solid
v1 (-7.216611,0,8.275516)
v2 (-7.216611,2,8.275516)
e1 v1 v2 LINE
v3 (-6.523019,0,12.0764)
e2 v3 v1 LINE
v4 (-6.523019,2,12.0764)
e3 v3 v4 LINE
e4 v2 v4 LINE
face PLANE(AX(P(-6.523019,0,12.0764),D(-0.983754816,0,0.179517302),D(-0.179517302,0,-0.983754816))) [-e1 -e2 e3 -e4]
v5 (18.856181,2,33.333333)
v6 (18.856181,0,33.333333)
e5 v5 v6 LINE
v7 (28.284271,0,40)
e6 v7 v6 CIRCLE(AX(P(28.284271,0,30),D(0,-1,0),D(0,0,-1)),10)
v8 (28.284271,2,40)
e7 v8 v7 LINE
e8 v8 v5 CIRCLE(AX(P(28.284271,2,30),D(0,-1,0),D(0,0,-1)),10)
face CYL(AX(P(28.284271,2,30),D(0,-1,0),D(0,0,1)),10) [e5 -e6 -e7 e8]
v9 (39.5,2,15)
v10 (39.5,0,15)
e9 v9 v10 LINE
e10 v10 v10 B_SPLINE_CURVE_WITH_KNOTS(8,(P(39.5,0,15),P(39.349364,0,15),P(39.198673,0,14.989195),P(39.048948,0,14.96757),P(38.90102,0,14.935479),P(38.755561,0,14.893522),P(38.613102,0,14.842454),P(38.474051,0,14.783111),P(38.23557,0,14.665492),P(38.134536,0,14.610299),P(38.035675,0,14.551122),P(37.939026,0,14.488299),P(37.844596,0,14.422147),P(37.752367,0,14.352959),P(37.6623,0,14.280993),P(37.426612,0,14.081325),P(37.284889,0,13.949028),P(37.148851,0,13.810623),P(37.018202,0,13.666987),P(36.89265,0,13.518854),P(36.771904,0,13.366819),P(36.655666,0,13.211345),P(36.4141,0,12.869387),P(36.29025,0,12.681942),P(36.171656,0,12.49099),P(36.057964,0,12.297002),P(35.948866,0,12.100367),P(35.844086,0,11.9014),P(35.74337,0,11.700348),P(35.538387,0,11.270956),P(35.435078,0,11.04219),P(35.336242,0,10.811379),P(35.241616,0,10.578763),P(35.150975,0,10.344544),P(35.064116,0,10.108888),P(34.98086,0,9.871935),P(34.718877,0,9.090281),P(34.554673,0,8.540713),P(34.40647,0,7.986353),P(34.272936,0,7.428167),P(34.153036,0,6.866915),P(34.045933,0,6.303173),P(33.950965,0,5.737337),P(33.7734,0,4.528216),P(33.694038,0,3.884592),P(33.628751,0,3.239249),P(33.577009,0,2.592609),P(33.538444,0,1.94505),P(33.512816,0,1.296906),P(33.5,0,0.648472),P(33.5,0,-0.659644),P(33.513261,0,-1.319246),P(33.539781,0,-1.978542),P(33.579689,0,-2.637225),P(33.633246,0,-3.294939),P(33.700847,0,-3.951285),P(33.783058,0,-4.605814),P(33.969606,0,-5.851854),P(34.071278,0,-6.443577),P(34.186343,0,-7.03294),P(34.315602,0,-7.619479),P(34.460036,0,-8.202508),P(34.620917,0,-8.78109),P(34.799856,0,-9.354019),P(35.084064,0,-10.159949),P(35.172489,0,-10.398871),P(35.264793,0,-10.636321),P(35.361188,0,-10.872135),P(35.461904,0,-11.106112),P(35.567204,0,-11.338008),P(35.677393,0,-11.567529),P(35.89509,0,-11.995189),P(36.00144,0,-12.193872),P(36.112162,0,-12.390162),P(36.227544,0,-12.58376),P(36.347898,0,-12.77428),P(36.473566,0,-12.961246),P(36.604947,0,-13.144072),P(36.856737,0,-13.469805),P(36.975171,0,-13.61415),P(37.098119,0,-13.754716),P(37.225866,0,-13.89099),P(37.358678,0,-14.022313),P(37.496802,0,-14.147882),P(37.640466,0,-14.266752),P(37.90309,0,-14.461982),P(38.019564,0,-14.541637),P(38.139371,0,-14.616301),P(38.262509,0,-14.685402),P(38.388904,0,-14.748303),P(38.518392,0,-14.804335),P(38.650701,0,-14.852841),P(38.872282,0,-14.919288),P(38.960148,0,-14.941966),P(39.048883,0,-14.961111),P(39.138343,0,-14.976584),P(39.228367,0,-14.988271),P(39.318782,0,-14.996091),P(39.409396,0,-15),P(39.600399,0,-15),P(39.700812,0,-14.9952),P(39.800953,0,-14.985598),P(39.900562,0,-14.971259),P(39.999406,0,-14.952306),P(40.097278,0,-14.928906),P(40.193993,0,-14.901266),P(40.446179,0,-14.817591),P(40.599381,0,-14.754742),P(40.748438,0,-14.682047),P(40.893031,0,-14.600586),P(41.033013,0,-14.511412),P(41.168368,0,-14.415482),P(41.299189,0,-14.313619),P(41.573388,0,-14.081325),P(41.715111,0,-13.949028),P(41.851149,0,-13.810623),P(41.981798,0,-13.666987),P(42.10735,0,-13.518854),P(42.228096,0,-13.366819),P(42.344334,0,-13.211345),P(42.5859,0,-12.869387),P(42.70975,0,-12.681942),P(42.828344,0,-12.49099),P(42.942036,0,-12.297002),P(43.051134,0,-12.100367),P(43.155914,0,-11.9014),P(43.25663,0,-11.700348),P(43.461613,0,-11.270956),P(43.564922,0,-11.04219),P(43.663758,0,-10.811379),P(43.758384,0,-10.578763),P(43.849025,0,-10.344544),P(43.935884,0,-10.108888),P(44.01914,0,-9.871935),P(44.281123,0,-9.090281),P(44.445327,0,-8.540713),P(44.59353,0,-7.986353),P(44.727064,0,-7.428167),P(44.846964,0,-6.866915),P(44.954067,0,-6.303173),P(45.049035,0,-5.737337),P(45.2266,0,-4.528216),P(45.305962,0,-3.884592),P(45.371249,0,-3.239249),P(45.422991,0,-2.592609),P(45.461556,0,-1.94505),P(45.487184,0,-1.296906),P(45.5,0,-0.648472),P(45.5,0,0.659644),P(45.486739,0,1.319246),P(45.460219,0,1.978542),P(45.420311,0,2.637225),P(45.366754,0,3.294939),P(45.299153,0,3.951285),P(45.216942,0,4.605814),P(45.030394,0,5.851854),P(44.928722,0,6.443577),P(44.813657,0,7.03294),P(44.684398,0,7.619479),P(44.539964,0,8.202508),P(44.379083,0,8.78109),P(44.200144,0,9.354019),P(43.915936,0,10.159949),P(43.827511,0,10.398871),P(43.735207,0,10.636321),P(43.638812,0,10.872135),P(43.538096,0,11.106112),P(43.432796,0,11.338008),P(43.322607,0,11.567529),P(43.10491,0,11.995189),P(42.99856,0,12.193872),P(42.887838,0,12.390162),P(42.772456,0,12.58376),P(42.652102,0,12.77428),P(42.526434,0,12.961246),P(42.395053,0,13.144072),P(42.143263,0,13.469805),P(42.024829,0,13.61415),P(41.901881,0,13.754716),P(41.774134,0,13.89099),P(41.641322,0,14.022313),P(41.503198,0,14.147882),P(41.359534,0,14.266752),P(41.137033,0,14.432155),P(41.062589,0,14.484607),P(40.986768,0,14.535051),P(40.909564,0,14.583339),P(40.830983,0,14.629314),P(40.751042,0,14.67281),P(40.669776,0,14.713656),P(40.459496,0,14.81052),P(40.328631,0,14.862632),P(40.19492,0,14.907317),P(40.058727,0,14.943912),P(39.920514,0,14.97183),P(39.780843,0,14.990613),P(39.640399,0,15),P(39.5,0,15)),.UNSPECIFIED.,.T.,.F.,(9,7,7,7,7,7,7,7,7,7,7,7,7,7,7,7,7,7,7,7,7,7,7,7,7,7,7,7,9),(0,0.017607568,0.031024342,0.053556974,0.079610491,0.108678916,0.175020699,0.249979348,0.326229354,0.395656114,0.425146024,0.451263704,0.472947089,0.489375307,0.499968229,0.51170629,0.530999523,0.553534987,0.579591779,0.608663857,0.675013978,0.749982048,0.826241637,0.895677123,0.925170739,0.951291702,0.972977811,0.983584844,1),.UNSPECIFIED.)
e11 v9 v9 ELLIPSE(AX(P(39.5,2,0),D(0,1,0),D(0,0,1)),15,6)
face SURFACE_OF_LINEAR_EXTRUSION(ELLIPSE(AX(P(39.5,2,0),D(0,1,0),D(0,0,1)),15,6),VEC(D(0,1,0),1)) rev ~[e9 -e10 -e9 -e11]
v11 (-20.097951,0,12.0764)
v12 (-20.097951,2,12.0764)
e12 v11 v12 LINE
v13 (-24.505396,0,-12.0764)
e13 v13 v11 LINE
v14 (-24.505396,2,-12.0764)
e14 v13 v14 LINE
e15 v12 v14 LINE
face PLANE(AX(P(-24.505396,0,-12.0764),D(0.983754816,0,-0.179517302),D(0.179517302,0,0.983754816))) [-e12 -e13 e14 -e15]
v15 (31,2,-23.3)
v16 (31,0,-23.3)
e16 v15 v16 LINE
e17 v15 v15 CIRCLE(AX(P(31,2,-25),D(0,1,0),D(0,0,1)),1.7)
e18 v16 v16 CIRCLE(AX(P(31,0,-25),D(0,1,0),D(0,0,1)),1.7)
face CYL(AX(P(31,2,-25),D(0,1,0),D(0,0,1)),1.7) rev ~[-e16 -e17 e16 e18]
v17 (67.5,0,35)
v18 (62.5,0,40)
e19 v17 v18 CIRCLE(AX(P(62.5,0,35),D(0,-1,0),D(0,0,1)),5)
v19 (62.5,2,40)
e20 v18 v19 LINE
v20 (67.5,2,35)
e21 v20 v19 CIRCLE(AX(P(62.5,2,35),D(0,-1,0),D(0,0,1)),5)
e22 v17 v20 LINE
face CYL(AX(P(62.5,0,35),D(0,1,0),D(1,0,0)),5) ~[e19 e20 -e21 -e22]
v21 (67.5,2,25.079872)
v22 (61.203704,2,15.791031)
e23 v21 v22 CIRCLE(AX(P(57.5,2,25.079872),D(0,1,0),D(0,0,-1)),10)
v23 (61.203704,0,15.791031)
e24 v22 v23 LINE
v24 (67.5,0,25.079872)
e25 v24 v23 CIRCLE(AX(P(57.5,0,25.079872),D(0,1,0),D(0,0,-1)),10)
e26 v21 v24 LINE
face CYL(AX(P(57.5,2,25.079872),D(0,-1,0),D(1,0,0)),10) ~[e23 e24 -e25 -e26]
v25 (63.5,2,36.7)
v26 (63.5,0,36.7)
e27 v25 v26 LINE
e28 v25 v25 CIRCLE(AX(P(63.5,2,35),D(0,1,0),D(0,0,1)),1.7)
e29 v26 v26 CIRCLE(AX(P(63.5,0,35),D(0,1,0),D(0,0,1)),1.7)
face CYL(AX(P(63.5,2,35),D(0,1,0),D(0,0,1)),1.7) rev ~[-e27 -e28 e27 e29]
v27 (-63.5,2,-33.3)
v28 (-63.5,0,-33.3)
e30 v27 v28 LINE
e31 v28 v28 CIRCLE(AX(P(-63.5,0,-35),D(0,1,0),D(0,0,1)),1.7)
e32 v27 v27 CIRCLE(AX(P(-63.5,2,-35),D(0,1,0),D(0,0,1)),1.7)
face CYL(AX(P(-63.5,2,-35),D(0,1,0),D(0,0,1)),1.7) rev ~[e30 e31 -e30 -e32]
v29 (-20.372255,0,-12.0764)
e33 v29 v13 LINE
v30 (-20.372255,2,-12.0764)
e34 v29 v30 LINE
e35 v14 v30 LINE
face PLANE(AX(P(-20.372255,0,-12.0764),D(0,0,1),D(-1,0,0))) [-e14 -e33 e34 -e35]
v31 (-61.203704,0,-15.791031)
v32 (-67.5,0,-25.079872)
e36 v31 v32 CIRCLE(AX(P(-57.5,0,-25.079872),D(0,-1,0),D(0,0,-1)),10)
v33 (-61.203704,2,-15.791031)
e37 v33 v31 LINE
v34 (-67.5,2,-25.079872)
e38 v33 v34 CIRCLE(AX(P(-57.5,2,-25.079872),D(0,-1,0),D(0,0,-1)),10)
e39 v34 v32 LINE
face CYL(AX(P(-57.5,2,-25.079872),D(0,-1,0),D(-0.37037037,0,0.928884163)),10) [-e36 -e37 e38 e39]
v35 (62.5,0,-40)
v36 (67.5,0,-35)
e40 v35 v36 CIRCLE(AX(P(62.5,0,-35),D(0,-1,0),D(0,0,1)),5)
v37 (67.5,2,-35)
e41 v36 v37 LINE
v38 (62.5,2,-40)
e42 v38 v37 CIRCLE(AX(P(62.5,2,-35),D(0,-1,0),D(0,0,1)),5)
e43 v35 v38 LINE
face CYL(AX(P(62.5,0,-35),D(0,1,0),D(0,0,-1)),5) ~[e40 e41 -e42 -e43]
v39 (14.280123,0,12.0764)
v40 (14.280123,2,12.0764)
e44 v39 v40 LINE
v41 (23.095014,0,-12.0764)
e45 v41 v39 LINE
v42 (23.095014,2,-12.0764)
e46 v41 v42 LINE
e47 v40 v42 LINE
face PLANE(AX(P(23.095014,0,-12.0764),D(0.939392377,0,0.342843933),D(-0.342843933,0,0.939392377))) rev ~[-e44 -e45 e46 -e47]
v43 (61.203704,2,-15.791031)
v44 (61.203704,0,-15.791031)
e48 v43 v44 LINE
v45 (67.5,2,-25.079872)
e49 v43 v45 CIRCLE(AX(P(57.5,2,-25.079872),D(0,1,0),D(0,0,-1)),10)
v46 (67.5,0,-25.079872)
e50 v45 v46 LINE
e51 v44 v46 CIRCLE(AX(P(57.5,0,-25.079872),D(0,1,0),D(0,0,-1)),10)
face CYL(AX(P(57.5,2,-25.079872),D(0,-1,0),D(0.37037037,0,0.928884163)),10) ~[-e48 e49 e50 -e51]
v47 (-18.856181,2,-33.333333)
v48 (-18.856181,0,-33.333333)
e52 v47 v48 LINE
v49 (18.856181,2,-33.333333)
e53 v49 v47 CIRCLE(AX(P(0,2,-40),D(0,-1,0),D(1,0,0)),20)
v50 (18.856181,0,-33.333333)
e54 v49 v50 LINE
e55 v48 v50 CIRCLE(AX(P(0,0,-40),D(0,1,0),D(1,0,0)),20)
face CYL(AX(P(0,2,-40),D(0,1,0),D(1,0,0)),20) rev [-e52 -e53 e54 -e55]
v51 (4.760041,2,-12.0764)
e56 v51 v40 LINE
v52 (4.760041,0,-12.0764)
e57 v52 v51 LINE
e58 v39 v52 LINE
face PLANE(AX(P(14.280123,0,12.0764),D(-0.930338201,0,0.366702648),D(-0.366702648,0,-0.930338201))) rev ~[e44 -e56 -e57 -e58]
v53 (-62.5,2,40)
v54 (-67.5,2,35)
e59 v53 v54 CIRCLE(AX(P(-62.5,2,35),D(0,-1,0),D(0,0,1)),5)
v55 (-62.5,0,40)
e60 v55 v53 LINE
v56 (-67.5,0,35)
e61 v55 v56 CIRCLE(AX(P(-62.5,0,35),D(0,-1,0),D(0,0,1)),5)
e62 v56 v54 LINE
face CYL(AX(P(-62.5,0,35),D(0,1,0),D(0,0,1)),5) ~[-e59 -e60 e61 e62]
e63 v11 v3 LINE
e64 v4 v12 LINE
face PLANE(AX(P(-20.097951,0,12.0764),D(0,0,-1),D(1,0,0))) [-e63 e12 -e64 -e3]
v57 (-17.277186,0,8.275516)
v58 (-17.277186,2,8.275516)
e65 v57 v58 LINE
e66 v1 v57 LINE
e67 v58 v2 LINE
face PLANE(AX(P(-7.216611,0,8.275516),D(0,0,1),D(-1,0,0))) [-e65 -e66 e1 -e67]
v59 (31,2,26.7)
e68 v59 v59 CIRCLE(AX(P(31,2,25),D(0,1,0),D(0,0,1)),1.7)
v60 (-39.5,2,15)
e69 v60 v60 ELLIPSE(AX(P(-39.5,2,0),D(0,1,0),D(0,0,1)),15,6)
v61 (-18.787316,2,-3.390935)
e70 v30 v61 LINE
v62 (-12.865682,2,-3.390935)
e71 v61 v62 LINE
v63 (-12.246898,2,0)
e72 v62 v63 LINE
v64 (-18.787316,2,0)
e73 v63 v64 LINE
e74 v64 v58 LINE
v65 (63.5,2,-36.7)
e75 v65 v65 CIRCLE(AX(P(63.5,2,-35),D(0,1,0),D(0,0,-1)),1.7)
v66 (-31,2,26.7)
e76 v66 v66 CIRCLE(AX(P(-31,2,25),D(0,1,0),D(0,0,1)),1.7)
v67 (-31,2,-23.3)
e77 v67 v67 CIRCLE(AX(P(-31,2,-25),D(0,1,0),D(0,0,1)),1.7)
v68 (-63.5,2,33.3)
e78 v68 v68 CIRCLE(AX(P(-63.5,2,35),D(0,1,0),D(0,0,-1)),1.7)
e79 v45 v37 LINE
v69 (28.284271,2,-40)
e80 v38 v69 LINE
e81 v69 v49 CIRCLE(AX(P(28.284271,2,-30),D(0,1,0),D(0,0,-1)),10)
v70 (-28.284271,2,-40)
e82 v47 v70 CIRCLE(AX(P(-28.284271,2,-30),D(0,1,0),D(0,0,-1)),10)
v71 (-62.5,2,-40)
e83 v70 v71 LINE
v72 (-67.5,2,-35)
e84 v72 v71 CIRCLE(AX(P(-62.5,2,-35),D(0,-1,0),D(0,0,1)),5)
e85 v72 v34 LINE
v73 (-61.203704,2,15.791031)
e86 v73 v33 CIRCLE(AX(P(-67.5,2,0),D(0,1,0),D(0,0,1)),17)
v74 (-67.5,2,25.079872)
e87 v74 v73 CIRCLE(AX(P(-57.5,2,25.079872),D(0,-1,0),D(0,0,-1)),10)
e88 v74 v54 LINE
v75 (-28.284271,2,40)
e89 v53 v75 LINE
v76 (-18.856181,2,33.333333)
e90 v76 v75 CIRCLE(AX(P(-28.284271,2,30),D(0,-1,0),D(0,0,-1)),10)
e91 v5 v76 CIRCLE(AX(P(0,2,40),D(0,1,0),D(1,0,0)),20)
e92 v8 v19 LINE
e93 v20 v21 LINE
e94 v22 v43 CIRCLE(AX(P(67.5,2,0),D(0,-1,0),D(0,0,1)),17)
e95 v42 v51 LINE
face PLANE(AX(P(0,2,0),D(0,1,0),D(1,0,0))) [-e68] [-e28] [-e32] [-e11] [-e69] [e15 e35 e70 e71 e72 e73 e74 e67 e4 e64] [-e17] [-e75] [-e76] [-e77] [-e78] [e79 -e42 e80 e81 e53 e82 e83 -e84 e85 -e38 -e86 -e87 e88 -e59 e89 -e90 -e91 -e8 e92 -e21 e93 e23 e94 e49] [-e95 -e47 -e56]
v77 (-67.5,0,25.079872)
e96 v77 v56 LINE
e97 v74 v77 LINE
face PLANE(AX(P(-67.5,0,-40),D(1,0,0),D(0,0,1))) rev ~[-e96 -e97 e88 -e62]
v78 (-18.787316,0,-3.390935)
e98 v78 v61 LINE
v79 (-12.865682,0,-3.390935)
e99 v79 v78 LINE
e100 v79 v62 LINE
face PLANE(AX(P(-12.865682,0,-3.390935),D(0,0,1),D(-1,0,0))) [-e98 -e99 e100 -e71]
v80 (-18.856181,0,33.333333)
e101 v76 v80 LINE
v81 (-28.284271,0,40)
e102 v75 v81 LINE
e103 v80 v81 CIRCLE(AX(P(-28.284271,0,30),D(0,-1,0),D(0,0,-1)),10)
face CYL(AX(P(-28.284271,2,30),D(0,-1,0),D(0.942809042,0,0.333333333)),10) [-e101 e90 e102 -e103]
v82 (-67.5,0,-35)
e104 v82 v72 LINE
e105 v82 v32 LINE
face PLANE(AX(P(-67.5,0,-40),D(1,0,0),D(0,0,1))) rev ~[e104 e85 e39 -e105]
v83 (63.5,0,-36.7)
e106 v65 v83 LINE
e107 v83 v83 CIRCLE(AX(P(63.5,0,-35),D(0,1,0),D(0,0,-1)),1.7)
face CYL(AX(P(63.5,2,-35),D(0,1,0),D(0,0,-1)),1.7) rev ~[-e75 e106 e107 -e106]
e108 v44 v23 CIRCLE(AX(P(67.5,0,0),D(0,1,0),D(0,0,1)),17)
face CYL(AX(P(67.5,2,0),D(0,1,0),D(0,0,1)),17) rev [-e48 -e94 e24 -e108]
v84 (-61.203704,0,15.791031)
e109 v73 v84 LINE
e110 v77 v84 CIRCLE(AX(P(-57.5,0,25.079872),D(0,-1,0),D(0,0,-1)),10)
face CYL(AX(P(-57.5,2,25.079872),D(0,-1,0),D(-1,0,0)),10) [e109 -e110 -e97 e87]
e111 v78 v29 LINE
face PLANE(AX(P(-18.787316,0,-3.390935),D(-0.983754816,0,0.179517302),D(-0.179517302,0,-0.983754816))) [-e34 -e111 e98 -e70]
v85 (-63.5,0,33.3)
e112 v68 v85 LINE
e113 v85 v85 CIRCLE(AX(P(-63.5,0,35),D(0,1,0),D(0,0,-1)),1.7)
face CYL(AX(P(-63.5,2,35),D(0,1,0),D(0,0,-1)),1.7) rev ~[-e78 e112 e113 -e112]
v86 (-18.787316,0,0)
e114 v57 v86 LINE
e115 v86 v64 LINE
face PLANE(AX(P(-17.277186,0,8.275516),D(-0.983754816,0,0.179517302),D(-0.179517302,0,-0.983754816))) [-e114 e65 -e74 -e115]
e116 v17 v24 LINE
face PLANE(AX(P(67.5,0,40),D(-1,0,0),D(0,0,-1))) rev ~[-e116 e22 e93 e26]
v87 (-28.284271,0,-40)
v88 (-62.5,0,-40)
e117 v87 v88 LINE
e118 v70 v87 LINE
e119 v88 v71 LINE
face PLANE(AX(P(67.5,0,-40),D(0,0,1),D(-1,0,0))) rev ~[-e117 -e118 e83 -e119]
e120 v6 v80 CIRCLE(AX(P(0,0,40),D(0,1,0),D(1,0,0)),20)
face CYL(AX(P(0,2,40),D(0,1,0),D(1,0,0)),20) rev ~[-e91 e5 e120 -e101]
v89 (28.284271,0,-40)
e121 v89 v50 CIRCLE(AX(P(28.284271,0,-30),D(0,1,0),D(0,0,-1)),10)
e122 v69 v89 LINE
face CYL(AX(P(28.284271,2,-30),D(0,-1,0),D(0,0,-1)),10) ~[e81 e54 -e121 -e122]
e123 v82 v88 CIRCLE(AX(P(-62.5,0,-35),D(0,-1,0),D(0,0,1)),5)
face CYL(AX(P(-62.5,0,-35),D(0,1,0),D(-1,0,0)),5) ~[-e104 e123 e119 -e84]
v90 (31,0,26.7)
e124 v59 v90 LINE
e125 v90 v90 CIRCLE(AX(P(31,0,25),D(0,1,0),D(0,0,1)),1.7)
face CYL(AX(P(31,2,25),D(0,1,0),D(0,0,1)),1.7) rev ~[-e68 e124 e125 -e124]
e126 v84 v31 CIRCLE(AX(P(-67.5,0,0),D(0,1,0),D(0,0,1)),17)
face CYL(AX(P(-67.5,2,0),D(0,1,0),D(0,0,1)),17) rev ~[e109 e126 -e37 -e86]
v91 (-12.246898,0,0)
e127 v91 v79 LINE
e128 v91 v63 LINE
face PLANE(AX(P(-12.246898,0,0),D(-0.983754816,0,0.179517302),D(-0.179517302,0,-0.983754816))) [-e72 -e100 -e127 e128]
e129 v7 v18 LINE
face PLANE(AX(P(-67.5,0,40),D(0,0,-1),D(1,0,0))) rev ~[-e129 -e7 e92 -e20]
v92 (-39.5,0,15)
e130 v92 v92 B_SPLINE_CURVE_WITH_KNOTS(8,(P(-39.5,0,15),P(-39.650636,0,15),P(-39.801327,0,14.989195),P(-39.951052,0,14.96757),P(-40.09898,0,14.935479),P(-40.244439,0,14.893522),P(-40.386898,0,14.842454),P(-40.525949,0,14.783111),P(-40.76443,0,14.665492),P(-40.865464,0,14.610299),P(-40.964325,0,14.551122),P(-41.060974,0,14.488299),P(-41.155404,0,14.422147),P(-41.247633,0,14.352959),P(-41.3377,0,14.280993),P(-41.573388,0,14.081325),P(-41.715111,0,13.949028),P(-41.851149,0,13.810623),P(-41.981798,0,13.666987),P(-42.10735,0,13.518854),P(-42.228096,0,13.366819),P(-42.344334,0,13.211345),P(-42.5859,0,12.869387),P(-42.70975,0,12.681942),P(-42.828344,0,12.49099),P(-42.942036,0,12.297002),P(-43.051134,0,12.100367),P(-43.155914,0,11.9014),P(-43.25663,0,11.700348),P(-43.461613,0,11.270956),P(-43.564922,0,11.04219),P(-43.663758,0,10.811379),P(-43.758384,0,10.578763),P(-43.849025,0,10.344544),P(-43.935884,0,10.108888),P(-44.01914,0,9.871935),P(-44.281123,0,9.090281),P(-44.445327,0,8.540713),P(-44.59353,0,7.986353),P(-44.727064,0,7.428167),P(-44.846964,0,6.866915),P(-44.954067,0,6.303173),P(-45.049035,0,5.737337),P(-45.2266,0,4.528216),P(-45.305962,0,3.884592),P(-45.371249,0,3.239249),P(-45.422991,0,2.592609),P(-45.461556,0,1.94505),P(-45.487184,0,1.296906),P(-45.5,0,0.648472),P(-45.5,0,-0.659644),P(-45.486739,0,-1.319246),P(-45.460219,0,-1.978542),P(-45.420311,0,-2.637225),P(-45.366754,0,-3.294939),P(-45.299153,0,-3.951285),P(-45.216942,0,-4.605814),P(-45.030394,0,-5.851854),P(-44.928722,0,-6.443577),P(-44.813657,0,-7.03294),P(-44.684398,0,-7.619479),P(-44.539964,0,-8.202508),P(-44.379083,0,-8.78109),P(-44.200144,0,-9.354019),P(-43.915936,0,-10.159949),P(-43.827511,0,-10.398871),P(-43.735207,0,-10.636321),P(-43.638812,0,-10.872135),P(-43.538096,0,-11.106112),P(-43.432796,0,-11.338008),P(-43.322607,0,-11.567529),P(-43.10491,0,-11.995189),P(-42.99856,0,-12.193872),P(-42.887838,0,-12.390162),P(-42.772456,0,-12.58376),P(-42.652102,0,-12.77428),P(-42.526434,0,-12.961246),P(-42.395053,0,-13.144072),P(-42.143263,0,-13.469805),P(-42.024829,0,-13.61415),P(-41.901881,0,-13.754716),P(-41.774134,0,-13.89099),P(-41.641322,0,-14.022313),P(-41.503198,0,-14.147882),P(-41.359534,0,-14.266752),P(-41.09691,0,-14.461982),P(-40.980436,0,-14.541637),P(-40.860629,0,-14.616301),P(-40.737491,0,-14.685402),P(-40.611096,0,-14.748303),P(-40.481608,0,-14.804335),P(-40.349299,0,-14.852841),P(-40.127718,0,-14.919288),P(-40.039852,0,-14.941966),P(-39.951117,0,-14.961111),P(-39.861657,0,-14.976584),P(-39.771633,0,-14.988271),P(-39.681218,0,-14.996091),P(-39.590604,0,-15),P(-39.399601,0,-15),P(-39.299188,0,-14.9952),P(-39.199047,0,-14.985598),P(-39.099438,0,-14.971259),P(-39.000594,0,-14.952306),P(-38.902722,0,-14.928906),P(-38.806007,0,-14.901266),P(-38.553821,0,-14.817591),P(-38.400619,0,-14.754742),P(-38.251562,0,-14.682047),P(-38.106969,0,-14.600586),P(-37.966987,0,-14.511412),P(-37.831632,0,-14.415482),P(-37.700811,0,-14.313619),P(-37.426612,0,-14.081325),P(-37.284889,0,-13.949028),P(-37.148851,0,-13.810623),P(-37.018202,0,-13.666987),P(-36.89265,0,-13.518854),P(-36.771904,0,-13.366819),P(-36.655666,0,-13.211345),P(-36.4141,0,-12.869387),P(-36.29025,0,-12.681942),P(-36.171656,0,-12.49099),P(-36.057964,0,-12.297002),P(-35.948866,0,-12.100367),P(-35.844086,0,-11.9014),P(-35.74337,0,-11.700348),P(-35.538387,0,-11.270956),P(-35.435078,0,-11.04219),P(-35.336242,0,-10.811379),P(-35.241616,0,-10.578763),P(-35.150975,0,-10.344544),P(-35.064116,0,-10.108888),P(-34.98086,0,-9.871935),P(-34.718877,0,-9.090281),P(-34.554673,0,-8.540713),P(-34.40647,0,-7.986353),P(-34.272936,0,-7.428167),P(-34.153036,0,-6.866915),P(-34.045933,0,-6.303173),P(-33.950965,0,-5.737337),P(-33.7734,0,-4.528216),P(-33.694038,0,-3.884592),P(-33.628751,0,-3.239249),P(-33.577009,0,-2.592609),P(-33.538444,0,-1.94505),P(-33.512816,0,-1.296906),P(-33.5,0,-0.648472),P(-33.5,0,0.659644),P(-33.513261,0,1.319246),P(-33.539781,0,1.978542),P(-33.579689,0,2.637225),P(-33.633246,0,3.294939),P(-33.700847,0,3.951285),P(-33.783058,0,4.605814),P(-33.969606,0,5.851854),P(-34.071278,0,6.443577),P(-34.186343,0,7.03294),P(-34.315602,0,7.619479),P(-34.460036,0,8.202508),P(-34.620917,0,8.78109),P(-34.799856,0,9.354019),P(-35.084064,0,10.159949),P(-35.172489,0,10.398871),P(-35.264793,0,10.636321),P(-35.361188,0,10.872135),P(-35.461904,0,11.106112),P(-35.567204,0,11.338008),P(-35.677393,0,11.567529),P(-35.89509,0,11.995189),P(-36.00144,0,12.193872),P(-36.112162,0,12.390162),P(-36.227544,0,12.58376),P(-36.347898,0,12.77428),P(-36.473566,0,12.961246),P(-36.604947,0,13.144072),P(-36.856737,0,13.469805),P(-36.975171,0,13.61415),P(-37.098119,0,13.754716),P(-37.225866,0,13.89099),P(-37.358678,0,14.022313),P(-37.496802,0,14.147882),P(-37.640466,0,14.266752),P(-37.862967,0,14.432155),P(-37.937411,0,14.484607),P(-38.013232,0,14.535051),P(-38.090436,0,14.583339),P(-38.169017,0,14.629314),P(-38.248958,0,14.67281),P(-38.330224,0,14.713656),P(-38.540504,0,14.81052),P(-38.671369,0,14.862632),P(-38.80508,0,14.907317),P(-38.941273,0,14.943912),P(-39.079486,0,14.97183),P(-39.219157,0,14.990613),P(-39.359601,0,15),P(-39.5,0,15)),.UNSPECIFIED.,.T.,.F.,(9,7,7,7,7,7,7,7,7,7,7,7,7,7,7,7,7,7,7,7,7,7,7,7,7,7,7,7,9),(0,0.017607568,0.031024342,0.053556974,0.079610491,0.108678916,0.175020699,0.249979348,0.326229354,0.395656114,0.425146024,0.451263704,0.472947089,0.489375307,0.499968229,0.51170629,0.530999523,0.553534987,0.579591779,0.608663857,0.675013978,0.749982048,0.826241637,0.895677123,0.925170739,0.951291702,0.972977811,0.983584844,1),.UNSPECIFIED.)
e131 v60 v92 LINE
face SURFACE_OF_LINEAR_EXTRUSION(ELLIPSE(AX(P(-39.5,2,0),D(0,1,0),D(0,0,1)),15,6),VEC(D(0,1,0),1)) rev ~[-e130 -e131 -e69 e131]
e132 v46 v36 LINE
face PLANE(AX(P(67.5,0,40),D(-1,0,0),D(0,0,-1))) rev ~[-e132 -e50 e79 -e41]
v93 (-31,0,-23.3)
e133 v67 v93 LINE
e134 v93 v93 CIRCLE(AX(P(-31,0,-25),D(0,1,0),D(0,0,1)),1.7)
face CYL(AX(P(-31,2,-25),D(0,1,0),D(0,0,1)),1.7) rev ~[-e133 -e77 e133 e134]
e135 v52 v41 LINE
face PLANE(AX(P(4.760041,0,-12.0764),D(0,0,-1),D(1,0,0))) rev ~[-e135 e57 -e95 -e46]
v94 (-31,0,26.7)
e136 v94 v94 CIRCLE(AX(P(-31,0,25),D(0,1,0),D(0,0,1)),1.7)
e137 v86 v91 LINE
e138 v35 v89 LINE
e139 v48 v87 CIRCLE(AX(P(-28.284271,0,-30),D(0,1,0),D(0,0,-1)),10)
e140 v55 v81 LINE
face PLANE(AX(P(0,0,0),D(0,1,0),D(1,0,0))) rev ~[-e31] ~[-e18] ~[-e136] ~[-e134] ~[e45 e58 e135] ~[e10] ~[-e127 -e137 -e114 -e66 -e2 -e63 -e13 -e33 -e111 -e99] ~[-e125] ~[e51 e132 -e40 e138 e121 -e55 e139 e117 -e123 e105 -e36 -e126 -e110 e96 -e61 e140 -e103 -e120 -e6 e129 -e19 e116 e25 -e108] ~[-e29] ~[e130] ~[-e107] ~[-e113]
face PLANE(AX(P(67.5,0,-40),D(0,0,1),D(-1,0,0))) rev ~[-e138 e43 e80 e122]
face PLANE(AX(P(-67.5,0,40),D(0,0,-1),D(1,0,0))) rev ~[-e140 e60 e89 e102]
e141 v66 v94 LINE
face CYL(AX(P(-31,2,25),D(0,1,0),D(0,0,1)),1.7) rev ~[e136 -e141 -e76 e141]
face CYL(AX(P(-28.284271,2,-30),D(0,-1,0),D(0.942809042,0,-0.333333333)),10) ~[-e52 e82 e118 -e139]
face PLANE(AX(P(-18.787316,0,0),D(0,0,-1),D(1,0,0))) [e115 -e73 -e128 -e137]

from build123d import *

# Parameters (mm, degrees)
EXTRUDE_1_DEPTH     = 2
SKETCH_2_R          = 1.7
CUT_EXTRUDE_1_DEPTH = 2
SKETCH_3_R          = 1.7
CUT_EXTRUDE_2_DEPTH = 3
SKETCH_4_RX         = 15
SKETCH_4_RY         = 6
CUT_EXTRUDE_3_DEPTH = 3
FILLET_1_R          = 5
FILLET_2_R          = 10
CUT_EXTRUDE_5_DEPTH = 3


with BuildPart() as part:
    # 草图1 → 凸台-拉伸1 (new body)
    with BuildSketch(Plane(origin=(0, 0, 0), x_dir=(1, 0, 0), z_dir=(0, 1, 0))):
        Polygon((-10.5, -40), (25.5, -40), (67.5, -40), (67.5, -20), (67.5, 20), (67.5, 40), (25.5, 40), (-10.5, 40), (-67.5, 40), (-67.5, 20), (-67.5, -20), (-67.5, -40), align=None)
    extrude(amount=EXTRUDE_1_DEPTH)

    # 草图2 → 切除-拉伸1 (cut)
    with BuildSketch(Plane(origin=(0, 2, 0), x_dir=(1, 0, 0), z_dir=(0, 1, 0))):
        with Locations(Location((-63.5, 35, 0), (0, 0, 270))):
            Circle(SKETCH_2_R)
        with Locations(Location((63.5, 35, 0), (0, 0, 90))):
            Circle(SKETCH_2_R)
        with Locations(Location((63.5, -35, 0), (0, 0, 270))):
            Circle(SKETCH_2_R)
        with Locations(Location((-63.5, -35, 0), (0, 0, 90))):
            Circle(SKETCH_2_R)
    extrude(amount=-CUT_EXTRUDE_1_DEPTH, mode=Mode.SUBTRACT)

    # 草图3 → 切除-拉伸2 (cut)
    with BuildSketch(Plane(origin=(0, 2, 0), x_dir=(1, 0, 0), z_dir=(0, 1, 0))):
        with Locations(Location((-31, 25, 0), (0, 0, 270))):
            Circle(SKETCH_3_R)
        with Locations(Location((31, 25, 0), (0, 0, 270))):
            Circle(SKETCH_3_R)
        with Locations(Location((-31, -25, 0), (0, 0, 270))):
            Circle(SKETCH_3_R)
        with Locations(Location((31, -25, 0), (0, 0, 270))):
            Circle(SKETCH_3_R)
    extrude(amount=-CUT_EXTRUDE_2_DEPTH, mode=Mode.SUBTRACT)

    # 草图4 → 切除-拉伸3 (cut)
    with BuildSketch(Plane(origin=(0, 2, 0), x_dir=(1, 0, 0), z_dir=(0, 1, 0))):
        with Locations(Location((-39.5, 0), (0, 0, -90))):
            Ellipse(SKETCH_4_RX, SKETCH_4_RY)
        with Locations(Location((39.5, 0), (0, 0, -90))):
            Ellipse(SKETCH_4_RX, SKETCH_4_RY)
        with BuildLine():
            Line((-67.5, 17), (-67.5, -17))
            ThreePointArc((-67.5, -17), (-50.5, 0), (-67.5, 17))
        make_face()
        with BuildLine():
            Line((67.5, 17), (67.5, -17))
            ThreePointArc((67.5, -17), (50.5, 0), (67.5, 17))
        make_face()
        with BuildLine():
            Line((-20, 40), (20, 40))
            ThreePointArc((20, 40), (0, 20), (-20, 40))
        make_face()
        with BuildLine():
            Line((-20, -40), (20, -40))
            ThreePointArc((20, -40), (0, -20), (-20, -40))
        make_face()
    extrude(amount=-CUT_EXTRUDE_3_DEPTH, mode=Mode.SUBTRACT)

    # 圆角1
    fillet_1_edges = [part.edges().sort_by_distance(p)[0] for p in [
        (67.5, 1, -40),
        (67.5, 1, 40),
        (-67.5, 1, 40),
        (-67.5, 1, -40),
    ]]
    fillet(fillet_1_edges, radius=FILLET_1_R)

    # 圆角2
    fillet_2_edges = [part.edges().sort_by_distance(p)[0] for p in [
        (20, 1, -40),
        (-20, 1, -40),
        (-20, 1, 40),
        (20, 1, 40),
        (67.5, 1, 17),
        (67.5, 1, -17),
        (-67.5, 1, -17),
        (-67.5, 1, 17),
    ]]
    fillet(fillet_2_edges, radius=FILLET_2_R)

    # 草图6 → 切除-拉伸5 (cut)
    with BuildSketch(Plane.XZ):
        Polygon((-24.505396053, -12.076400213), (-20.097950719, 12.076400213), (-6.523019093, 12.076400213), (-7.216611088, 8.275516079), (-17.277185706, 8.275516079), (-18.787316377, 0), (-12.246898397, 0), (-12.865682091, -3.390934644), (-18.787316377, -3.390934644), (-20.37225535, -12.076400213), align=None)
        Polygon((14.28012288, 12.076400213), (4.76004096, -12.076400213), (23.095013546, -12.076400213), align=None)
    extrude(amount=-CUT_EXTRUDE_5_DEPTH, mode=Mode.SUBTRACT)


solid = part.part
